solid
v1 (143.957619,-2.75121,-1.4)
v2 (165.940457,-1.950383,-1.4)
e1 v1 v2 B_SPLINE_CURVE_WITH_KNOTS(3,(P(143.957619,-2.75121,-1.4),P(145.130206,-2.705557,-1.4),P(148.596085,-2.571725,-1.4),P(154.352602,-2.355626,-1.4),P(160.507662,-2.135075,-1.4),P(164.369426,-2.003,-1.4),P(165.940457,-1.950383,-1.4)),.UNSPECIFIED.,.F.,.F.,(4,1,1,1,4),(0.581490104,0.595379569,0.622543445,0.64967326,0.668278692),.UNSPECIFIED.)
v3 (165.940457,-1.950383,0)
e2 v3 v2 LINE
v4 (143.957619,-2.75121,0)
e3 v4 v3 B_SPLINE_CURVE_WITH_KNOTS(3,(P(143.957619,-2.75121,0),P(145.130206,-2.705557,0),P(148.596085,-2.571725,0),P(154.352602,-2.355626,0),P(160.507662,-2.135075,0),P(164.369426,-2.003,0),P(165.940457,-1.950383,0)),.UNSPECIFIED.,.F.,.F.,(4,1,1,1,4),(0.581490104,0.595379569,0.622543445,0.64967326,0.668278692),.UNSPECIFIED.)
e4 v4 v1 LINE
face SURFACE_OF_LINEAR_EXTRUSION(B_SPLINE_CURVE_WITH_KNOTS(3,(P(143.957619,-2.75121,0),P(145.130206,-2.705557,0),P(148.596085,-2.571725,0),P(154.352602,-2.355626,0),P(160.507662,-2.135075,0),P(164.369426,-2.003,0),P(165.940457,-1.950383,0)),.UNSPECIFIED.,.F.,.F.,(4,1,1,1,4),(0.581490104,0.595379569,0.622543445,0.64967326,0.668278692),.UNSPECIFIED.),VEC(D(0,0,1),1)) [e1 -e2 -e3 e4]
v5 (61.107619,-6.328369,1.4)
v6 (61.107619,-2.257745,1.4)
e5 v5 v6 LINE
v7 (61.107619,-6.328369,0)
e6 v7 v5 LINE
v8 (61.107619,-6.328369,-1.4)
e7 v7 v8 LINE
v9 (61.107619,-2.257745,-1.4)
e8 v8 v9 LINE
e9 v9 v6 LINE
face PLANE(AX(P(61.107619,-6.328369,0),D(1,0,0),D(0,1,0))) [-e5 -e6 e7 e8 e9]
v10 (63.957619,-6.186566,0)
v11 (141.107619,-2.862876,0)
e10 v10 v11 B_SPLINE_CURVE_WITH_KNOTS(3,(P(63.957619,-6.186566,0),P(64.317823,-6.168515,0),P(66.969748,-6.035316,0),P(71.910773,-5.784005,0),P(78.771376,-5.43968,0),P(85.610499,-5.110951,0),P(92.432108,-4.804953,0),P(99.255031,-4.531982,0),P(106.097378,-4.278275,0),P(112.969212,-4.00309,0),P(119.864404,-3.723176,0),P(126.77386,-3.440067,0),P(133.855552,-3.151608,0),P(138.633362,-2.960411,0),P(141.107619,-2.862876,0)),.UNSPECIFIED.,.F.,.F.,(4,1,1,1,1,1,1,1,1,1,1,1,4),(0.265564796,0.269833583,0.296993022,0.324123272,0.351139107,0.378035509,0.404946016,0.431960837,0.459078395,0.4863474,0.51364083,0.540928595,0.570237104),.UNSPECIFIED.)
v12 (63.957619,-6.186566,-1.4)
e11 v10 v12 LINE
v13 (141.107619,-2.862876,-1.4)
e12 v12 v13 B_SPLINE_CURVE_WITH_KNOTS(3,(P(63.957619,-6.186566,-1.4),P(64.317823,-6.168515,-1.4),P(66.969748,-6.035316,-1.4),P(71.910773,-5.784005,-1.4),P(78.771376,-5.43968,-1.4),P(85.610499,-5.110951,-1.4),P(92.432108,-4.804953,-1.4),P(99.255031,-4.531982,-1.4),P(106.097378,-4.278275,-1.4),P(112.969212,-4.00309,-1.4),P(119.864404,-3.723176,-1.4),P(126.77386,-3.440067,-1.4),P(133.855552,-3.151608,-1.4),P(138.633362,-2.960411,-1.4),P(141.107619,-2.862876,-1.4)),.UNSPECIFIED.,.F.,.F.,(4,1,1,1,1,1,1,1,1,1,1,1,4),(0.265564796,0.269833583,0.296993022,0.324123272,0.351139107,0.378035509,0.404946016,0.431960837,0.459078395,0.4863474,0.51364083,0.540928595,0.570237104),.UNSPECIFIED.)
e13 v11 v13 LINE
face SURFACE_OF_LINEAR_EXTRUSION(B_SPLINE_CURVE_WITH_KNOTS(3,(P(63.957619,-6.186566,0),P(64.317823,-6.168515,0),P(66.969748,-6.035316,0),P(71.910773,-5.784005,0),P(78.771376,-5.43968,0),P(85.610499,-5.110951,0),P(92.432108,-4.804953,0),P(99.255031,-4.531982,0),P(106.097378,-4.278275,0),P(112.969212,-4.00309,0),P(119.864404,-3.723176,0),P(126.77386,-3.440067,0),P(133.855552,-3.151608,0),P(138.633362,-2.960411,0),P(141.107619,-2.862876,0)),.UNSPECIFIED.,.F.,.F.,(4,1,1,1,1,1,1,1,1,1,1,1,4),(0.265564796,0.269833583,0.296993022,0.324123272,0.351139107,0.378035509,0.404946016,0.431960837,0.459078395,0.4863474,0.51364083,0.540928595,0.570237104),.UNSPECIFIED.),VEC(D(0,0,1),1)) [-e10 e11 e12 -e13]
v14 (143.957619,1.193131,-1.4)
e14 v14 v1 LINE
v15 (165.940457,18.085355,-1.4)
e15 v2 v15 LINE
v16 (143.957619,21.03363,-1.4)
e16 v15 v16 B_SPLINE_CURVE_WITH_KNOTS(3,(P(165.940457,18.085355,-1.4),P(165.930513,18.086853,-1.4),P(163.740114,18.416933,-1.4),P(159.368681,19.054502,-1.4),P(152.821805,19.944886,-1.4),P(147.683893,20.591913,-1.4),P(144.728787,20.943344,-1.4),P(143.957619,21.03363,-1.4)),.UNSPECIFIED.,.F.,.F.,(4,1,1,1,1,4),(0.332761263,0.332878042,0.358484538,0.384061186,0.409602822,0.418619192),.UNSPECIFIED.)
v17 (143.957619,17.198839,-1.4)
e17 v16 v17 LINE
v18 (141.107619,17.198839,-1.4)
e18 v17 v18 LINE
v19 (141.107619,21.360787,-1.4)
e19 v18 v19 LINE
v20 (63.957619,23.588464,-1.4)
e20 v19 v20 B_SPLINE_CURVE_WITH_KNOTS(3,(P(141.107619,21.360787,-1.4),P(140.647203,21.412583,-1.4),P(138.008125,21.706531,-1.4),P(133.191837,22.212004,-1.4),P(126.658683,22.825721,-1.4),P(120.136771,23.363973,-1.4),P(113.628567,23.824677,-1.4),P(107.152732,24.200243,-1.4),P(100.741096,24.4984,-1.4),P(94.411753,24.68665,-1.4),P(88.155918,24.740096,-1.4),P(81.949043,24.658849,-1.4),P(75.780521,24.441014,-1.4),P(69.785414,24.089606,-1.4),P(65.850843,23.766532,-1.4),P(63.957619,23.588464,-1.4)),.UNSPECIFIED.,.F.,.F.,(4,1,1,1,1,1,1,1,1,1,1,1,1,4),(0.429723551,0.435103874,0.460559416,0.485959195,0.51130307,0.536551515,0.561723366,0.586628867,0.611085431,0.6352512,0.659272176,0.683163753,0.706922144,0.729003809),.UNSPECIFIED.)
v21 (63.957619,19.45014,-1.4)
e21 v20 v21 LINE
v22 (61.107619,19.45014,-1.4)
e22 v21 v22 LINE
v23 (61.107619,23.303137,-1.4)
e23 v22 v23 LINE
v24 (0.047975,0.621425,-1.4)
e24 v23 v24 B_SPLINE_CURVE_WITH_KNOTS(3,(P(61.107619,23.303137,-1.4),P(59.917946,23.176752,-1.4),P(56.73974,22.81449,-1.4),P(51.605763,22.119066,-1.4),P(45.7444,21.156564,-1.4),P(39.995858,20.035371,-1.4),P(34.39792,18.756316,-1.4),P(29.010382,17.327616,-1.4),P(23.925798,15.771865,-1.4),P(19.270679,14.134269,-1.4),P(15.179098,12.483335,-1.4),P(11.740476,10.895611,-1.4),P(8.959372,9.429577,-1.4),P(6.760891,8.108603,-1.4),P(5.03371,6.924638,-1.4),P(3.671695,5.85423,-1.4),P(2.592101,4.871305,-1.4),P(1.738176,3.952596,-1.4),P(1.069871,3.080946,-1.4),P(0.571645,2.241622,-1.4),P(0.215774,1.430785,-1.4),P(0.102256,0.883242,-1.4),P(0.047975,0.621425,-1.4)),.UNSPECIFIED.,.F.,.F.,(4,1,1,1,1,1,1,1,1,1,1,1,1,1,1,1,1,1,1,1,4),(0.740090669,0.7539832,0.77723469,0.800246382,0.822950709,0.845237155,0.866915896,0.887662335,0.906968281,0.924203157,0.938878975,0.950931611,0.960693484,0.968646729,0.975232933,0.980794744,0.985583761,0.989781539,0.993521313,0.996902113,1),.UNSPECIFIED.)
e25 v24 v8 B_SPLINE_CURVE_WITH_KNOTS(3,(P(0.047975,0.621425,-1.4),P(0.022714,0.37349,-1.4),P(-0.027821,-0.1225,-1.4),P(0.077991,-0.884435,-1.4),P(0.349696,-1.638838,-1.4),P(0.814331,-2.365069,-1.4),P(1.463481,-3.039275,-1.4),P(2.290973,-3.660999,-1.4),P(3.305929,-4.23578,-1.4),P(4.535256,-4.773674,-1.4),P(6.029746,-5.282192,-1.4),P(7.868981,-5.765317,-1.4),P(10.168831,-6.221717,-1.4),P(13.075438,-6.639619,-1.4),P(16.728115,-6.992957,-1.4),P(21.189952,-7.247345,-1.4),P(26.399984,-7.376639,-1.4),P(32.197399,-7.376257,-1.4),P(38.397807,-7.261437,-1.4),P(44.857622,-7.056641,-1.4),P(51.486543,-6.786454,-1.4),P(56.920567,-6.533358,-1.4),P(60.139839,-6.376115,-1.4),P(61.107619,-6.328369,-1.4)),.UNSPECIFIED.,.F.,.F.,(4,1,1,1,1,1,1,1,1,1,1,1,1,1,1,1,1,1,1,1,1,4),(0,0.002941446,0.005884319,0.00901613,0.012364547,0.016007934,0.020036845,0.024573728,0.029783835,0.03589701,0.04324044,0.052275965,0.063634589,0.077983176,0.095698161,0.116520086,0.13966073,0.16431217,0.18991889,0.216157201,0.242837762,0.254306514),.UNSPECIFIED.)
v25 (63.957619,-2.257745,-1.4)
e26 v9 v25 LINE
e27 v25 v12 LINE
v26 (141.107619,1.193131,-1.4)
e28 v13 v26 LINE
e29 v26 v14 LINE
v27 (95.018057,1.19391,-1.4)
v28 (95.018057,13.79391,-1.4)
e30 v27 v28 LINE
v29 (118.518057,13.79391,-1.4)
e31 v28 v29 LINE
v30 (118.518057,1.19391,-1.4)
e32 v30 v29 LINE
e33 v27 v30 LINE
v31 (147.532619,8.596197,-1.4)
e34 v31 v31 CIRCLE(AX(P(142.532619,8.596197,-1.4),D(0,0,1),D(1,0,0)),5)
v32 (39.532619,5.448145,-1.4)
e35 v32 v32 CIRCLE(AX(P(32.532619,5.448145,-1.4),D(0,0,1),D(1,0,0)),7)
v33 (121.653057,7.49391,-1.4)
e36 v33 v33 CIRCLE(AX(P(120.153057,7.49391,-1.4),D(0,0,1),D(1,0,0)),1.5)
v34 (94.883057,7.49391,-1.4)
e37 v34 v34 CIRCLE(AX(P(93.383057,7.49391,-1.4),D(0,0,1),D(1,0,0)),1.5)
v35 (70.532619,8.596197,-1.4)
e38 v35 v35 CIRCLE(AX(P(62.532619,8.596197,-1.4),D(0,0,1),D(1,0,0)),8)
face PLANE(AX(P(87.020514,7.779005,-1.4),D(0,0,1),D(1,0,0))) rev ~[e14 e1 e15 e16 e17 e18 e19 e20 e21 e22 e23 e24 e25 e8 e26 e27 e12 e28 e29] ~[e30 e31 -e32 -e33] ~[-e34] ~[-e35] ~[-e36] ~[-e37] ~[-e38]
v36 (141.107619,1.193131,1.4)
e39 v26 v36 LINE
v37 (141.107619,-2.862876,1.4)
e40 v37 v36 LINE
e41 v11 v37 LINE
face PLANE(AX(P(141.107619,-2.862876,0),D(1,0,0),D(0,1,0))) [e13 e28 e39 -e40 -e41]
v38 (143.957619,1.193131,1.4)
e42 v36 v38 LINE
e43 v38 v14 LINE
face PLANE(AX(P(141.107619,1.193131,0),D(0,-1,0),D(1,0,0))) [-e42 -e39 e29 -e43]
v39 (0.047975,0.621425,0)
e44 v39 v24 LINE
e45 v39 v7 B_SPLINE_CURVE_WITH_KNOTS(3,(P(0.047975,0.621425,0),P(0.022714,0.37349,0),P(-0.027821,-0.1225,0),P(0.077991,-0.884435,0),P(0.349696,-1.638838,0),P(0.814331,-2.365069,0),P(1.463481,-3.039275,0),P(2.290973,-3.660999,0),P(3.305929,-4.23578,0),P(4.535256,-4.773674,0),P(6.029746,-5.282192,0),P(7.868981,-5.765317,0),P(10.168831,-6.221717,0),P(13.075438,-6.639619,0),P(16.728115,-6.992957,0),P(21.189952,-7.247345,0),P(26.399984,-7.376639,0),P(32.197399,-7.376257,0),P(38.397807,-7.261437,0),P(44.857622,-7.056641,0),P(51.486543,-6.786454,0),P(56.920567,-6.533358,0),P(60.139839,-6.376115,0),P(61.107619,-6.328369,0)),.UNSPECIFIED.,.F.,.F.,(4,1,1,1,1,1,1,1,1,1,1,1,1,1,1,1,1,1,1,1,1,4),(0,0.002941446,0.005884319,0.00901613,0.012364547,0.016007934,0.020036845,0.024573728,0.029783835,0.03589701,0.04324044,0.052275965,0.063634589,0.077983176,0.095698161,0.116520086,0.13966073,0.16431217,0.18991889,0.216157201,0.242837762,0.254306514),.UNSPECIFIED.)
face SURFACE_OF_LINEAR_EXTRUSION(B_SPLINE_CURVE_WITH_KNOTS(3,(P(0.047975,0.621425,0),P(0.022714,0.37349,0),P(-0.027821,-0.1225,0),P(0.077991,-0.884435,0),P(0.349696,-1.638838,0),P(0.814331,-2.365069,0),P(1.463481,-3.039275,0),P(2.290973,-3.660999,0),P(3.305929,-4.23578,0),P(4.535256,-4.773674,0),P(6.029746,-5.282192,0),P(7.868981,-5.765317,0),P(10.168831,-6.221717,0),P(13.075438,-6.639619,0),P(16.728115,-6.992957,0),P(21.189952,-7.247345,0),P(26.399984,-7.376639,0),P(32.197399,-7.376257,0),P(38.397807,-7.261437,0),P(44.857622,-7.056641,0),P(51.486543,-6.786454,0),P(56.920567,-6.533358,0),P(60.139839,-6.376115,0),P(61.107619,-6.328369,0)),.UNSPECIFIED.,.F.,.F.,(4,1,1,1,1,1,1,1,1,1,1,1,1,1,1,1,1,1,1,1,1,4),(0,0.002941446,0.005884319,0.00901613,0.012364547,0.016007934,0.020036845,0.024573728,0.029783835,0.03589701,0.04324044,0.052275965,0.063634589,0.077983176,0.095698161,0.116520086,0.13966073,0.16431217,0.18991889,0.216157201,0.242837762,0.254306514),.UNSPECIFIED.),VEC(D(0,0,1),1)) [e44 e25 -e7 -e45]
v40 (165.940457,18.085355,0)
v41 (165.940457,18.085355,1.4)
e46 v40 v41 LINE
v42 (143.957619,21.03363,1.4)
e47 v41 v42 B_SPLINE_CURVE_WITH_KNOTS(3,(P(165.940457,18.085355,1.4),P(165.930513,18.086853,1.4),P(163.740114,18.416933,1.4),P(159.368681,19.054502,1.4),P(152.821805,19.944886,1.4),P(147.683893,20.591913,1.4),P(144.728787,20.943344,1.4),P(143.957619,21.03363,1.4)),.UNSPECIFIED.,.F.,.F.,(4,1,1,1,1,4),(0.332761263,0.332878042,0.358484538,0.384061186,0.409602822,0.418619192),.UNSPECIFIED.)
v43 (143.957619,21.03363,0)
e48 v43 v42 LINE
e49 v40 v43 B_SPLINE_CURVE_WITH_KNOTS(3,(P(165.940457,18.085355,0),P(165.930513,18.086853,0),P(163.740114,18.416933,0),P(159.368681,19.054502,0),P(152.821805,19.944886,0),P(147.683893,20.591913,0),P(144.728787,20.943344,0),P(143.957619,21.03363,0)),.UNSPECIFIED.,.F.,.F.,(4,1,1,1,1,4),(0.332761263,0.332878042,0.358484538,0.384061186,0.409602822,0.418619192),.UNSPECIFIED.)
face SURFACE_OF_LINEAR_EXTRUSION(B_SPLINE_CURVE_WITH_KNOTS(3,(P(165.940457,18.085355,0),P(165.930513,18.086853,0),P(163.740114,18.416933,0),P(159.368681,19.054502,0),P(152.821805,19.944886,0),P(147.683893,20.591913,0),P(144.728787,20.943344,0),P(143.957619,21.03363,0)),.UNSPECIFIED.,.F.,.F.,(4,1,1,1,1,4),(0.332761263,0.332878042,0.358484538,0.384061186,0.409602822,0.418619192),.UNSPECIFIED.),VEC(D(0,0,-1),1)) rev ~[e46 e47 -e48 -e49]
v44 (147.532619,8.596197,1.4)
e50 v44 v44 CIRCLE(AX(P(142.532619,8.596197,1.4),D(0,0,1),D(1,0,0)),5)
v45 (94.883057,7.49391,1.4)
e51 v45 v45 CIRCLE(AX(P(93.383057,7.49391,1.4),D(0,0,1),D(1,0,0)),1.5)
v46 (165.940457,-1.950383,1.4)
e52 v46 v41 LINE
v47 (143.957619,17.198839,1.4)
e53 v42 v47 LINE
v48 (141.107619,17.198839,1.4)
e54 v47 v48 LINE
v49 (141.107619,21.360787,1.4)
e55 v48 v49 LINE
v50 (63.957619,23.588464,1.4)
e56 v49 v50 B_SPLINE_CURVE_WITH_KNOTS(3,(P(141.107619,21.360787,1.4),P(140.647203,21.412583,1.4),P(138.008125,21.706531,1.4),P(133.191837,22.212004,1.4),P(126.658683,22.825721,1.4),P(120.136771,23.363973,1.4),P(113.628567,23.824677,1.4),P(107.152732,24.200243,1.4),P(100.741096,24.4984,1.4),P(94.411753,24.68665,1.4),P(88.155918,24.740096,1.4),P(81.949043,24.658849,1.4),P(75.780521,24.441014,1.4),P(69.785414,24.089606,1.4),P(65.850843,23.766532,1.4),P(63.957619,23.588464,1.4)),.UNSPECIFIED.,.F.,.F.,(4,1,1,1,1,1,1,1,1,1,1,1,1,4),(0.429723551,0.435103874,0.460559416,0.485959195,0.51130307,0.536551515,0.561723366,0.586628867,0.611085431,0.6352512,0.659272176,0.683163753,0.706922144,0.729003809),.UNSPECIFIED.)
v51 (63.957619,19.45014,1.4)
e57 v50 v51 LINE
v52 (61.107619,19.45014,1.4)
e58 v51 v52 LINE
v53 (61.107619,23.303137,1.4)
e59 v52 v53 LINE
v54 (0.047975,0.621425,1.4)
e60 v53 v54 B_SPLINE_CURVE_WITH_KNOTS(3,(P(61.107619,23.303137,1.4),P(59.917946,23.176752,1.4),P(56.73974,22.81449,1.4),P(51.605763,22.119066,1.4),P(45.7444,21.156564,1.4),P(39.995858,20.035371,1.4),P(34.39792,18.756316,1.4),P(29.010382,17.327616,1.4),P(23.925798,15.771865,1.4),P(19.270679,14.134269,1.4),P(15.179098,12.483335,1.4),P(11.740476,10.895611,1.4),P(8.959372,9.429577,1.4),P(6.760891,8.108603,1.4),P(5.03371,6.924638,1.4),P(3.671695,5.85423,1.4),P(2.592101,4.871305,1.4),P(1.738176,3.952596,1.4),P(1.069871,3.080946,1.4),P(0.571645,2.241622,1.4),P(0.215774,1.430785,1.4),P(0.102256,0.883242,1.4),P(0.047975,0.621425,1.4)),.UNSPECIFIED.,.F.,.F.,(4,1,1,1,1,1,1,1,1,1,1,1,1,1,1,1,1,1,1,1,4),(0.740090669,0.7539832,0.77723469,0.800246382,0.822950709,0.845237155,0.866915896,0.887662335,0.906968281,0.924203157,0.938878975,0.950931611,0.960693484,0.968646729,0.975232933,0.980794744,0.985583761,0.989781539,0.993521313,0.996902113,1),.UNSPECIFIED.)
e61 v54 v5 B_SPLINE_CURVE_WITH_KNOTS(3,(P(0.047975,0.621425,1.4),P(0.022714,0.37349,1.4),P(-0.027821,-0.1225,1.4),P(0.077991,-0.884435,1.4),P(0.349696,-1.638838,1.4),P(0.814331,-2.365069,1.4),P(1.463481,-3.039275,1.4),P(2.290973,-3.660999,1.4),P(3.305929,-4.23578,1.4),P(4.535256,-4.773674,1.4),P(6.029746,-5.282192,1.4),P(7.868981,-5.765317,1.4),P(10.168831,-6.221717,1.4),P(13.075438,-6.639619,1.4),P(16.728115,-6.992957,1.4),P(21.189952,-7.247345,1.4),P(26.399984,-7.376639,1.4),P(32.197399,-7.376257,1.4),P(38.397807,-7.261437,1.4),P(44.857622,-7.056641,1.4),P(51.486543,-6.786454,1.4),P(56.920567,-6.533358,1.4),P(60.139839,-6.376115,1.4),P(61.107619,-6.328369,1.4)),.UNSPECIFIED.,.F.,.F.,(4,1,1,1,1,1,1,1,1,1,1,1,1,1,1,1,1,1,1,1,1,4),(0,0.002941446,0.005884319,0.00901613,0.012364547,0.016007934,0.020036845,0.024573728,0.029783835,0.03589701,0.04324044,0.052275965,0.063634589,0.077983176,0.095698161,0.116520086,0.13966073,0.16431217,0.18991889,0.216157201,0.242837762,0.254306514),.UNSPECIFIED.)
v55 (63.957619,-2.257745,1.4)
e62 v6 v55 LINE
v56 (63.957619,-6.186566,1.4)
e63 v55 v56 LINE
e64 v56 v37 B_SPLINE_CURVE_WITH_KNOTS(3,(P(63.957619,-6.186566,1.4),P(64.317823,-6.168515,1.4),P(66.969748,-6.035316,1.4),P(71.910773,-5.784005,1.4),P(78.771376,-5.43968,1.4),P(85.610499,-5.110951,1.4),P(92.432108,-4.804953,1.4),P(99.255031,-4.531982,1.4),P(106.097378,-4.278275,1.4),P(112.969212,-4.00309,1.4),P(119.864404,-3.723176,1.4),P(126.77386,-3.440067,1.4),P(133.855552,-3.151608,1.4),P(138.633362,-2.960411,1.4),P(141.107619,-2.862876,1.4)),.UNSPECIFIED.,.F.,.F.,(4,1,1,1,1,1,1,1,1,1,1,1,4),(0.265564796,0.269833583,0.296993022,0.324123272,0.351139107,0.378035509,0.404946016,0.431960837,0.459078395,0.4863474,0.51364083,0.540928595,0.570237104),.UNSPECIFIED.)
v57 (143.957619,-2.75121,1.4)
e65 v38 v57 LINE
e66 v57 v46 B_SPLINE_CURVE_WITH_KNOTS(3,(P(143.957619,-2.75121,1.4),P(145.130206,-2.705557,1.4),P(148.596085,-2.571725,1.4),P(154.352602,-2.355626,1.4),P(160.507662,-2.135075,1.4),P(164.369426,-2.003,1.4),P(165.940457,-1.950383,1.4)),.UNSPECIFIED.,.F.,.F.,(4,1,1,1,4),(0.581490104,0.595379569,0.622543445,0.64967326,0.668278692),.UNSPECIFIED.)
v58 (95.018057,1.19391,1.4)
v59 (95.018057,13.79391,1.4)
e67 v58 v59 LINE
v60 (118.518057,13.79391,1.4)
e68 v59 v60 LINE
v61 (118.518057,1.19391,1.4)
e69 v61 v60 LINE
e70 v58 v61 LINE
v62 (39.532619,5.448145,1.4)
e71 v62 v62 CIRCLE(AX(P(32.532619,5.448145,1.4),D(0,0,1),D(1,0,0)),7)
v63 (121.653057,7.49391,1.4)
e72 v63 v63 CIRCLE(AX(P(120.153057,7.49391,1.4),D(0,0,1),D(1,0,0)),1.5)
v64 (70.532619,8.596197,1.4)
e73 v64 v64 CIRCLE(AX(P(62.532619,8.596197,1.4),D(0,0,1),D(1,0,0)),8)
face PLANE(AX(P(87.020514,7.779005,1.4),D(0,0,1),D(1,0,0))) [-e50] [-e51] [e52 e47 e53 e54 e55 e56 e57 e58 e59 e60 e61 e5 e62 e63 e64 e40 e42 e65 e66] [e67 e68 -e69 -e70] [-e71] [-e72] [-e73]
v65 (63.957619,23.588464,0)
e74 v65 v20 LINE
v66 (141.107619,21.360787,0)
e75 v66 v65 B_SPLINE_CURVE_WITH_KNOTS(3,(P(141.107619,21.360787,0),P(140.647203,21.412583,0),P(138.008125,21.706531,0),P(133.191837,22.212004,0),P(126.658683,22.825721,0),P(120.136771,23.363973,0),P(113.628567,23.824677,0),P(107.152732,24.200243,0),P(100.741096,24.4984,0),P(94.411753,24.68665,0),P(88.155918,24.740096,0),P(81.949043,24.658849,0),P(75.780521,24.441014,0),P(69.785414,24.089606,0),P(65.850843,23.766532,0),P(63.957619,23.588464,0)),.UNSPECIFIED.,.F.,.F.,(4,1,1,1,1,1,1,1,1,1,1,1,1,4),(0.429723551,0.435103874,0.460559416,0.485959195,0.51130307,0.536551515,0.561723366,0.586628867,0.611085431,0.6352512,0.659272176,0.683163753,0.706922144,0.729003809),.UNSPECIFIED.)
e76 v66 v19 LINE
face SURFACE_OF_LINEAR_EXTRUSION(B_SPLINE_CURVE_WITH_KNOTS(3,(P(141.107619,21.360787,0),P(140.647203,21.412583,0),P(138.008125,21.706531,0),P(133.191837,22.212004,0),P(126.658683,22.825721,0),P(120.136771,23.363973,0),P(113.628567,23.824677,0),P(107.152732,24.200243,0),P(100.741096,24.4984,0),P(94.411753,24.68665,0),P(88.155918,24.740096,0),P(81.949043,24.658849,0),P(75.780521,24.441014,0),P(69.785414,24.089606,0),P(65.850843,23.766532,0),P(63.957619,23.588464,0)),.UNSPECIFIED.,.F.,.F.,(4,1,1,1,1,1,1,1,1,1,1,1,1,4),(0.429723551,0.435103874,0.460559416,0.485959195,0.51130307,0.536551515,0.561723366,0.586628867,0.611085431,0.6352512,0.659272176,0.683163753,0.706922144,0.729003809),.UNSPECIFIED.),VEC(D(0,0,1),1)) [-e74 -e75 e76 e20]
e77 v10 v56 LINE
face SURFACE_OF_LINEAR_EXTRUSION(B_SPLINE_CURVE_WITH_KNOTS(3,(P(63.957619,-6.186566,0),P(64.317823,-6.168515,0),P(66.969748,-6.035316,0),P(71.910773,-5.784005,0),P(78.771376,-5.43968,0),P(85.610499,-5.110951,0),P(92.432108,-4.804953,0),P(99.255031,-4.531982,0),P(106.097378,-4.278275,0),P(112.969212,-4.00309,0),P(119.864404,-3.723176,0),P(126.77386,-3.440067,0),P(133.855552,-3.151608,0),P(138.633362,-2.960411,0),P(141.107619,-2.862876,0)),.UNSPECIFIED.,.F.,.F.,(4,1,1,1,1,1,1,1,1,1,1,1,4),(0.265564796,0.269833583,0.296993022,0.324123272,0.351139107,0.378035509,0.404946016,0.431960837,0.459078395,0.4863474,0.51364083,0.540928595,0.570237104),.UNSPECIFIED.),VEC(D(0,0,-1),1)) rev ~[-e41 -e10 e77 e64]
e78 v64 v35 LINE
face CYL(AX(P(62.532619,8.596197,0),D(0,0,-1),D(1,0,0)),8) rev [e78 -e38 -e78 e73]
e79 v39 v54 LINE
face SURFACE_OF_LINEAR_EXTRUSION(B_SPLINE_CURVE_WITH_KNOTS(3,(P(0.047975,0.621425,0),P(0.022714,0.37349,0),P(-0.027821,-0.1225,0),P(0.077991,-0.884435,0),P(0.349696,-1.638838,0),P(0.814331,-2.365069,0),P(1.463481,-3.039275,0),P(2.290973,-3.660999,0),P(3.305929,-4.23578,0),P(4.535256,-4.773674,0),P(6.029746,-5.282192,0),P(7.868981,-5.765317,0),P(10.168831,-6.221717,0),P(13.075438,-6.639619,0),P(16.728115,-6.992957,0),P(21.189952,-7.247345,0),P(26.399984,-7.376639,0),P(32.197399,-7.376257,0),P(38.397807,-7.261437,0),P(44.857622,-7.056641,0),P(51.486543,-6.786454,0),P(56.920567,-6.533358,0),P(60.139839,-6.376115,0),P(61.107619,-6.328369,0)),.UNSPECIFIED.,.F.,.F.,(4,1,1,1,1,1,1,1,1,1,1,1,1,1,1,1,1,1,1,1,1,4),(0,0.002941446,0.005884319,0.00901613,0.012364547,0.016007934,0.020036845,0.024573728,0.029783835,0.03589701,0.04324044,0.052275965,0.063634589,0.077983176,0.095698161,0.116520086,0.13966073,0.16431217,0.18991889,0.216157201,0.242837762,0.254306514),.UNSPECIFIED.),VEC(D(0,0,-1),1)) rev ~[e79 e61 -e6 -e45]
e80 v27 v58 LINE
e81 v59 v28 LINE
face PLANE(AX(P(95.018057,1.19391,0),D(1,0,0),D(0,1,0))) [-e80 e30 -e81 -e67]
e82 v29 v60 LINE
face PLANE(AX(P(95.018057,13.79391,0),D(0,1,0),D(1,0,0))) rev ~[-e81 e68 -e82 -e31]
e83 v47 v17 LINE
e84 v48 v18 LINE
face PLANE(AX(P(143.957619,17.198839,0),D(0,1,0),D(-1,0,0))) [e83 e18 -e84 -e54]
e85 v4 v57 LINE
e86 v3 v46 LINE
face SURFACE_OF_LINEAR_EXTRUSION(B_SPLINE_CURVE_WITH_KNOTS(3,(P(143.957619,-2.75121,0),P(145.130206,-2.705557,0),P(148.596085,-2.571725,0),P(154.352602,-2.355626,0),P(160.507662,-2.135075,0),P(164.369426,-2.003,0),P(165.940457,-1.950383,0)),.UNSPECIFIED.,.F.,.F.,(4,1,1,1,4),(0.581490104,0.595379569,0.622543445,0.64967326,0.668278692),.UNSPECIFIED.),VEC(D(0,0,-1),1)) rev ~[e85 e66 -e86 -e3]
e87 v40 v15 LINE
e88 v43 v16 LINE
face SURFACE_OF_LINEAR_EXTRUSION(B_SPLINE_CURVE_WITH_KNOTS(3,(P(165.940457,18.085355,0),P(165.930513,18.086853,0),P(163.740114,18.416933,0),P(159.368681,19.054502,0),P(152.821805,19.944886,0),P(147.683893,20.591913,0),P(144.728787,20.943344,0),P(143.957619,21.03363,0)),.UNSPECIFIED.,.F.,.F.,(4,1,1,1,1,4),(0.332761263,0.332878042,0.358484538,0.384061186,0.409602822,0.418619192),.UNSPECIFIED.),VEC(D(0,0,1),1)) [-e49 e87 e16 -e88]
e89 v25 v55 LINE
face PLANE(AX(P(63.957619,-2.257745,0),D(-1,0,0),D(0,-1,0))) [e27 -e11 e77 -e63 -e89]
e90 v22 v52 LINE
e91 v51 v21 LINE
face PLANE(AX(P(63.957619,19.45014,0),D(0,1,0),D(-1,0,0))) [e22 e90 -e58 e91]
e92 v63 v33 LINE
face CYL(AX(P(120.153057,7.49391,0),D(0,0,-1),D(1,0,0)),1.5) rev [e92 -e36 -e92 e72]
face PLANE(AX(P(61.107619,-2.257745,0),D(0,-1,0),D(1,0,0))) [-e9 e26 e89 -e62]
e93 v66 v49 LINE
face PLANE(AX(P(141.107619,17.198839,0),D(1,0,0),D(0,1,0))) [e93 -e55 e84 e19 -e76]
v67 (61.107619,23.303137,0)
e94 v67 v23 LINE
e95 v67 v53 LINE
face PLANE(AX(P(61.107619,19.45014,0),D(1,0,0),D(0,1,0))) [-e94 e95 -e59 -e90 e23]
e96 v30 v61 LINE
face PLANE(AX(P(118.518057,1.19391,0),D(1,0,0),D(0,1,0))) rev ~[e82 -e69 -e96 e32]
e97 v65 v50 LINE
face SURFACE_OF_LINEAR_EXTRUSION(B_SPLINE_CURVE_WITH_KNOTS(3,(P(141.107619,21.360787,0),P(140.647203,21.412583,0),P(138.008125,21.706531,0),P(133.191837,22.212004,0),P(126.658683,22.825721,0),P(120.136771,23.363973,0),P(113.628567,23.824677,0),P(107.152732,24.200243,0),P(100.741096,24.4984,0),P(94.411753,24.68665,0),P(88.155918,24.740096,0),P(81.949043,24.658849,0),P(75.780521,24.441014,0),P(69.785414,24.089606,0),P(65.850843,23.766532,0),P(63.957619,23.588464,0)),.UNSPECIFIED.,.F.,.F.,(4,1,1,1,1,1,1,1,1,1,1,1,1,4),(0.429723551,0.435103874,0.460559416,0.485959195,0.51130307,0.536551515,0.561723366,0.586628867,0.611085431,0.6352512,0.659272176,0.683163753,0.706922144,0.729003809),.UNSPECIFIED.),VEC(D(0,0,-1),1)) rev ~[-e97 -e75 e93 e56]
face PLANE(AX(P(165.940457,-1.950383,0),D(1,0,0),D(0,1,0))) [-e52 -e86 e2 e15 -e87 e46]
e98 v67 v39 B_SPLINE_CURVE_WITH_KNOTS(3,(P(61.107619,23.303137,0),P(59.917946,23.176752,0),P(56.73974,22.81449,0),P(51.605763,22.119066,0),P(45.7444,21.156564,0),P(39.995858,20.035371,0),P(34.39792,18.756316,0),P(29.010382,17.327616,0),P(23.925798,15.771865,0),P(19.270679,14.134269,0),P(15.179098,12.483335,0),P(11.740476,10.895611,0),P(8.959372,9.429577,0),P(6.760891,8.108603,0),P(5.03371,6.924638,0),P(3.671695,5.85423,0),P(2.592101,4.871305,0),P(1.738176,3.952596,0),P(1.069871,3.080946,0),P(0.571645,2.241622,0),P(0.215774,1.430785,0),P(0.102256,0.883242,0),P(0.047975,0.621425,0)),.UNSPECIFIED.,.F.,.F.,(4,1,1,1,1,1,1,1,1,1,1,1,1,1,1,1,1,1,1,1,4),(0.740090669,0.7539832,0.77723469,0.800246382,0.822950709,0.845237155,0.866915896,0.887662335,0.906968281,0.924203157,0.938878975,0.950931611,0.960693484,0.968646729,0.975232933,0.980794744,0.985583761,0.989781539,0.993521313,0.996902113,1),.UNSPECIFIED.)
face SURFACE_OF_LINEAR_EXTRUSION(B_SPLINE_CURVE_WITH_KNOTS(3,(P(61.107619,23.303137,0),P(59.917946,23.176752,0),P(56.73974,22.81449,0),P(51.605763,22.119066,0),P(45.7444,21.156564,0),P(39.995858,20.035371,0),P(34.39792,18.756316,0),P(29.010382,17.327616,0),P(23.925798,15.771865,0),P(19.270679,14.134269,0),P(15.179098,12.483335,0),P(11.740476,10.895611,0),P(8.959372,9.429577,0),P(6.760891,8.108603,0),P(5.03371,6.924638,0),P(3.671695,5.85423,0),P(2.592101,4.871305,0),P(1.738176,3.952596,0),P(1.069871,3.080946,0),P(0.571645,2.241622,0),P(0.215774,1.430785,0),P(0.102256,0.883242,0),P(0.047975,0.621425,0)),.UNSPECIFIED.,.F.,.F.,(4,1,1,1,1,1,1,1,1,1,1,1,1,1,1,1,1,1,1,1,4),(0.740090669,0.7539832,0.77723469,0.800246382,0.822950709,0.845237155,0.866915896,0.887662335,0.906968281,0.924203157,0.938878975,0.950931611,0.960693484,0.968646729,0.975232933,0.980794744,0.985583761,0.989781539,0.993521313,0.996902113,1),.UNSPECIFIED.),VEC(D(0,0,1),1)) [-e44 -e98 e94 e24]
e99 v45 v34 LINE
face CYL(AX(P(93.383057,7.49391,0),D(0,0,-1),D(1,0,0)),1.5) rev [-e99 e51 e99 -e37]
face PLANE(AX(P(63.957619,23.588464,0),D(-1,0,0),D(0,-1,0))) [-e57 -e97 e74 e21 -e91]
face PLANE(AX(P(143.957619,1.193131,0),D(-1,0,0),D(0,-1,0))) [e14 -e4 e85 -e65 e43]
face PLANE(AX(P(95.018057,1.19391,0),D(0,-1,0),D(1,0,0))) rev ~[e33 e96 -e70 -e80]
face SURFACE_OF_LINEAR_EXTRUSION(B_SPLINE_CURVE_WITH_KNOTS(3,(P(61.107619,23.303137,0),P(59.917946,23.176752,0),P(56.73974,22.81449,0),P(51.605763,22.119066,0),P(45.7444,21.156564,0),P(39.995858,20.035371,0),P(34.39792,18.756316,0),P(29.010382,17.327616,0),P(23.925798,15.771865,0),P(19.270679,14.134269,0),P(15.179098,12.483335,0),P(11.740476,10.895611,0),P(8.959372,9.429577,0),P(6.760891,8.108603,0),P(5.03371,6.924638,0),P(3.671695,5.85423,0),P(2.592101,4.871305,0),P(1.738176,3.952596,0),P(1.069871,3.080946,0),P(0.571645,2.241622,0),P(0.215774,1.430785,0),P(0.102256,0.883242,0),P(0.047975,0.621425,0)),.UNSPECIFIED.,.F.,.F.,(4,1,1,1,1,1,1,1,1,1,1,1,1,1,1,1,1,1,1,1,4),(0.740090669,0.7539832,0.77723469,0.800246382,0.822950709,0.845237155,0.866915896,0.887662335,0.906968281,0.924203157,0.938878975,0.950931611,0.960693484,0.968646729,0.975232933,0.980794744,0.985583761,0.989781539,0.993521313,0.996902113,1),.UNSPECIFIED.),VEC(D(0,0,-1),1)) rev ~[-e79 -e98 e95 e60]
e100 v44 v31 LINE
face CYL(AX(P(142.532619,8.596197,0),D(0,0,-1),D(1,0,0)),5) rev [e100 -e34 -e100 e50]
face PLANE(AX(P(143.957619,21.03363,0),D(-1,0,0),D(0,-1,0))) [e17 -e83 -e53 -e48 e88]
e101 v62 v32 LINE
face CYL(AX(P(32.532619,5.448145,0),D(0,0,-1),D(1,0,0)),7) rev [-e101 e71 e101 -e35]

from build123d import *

# Parameters (mm, degrees)
SKETCH_1_R      = 7
SKETCH_1_R_2    = 8
SKETCH_1_R_3    = 1.5
SKETCH_1_W      = 23.5
SKETCH_1_H      = 12.6
SKETCH_1_R_4    = 5
EXTRUDE_1_DEPTH = 1.4


with BuildPart() as part:
    # Эскиз1 → Бобышка-Вытянуть1 (new, symmetric)
    with BuildSketch(Plane.XY):
        with BuildLine():
            Line((63.957619318, 19.450139662), (61.107619318, 19.450139662))
            Line((61.107619318, 19.450139662), (61.107619318, 23.303137173))
            add(Edge.make_bspline(
                [(61.107619318, 23.303137173), (59.917945614, 23.176751945), (56.739740439, 22.81448979), (51.605762688, 22.119065522), (45.744400311, 21.156564432), (39.995857594, 20.03537139), (34.397919842, 18.756316235), (29.010382103, 17.327615608), (23.925798408, 15.771864922), (19.27067884, 14.134269435), (15.179098391, 12.483335438), (11.74047579, 10.895610996), (8.959371869, 9.429577366), (6.76089118, 8.1086032), (5.033709748, 6.924638056), (3.671694933, 5.854229665), (2.592101123, 4.871305369), (1.738175668, 3.952595744), (1.06987083, 3.080946374), (0.57164541, 2.241622103), (0.215773899, 1.430785398), (0.102255581, 0.883241695), (0.047975, 0.621425001)],
                knots=[0.740090669, 0.740090669, 0.740090669, 0.740090669, 0.7539832, 0.77723469, 0.800246382, 0.822950709, 0.845237155, 0.866915896, 0.887662335, 0.906968281, 0.924203157, 0.938878975, 0.950931611, 0.960693484, 0.968646729, 0.975232933, 0.980794744, 0.985583761, 0.989781539, 0.993521313, 0.996902113, 1, 1, 1, 1], degree=3))
            add(Edge.make_bspline(
                [(0.047975, 0.621425001), (0.02271382, 0.373490086), (-0.027820789, -0.122499974), (0.077991212, -0.884434589), (0.34969565, -1.63883807), (0.814331135, -2.365068923), (1.46348078, -3.039275244), (2.290973016, -3.660999469), (3.30592875, -4.23577962), (4.535255619, -4.773674143), (6.029745688, -5.282192164), (7.868981215, -5.765316676), (10.168831391, -6.221716592), (13.075438188, -6.63961873), (16.728115362, -6.992956737), (21.189952096, -7.247345144), (26.399984415, -7.376638848), (32.197398564, -7.376256913), (38.397806759, -7.261436579), (44.857621768, -7.056641358), (51.486543096, -6.786453532), (56.920566709, -6.533358441), (60.139839208, -6.376114839), (61.107619318, -6.32836923)],
                knots=[0, 0, 0, 0, 0.002941446, 0.005884319, 0.00901613, 0.012364547, 0.016007934, 0.020036845, 0.024573728, 0.029783835, 0.03589701, 0.04324044, 0.052275965, 0.063634589, 0.077983176, 0.095698161, 0.116520086, 0.13966073, 0.16431217, 0.18991889, 0.216157201, 0.242837762, 0.254306514, 0.254306514, 0.254306514, 0.254306514], degree=3))
            Line((61.107619318, -6.32836923), (61.107619318, -2.257745247))
            Line((61.107619318, -2.257745247), (63.957619318, -2.257745247))
            Line((63.957619318, -2.257745247), (63.957619318, -6.186566126))
            add(Edge.make_bspline(
                [(63.957619318, -6.186566126), (64.317823095, -6.168514758), (66.969747676, -6.035316313), (71.910772709, -5.784005174), (78.771375576, -5.439680449), (85.610498609, -5.110951246), (92.432107589, -4.804953317), (99.25503119, -4.531981644), (106.097378404, -4.278274658), (112.96921168, -4.00308991), (119.864404254, -3.723176166), (126.773860473, -3.440067276), (133.855552455, -3.151608468), (138.633361552, -2.960411351), (141.107619318, -2.86287629)],
                knots=[0.265564796, 0.265564796, 0.265564796, 0.265564796, 0.269833583, 0.296993022, 0.324123272, 0.351139107, 0.378035509, 0.404946016, 0.431960837, 0.459078395, 0.4863474, 0.51364083, 0.540928595, 0.570237104, 0.570237104, 0.570237104, 0.570237104], degree=3))
            Line((141.107619318, -2.86287629), (141.107619318, 1.193130543))
            Line((141.107619318, 1.193130543), (143.957619318, 1.193130543))
            Line((143.957619318, 1.193130543), (143.957619318, -2.751209627))
            add(Edge.make_bspline(
                [(143.957619318, -2.751209627), (145.13020609, -2.705557458), (148.596084852, -2.571725453), (154.352602411, -2.355626415), (160.507662095, -2.135075484), (164.369425992, -2.00299999), (165.940456932, -1.950382964)],
                knots=[0.581490104, 0.581490104, 0.581490104, 0.581490104, 0.595379569, 0.622543445, 0.64967326, 0.668278692, 0.668278692, 0.668278692, 0.668278692], degree=3))
            Line((165.940456932, -1.950382964), (165.940456932, 7.49391084))
            Line((165.940456932, 7.49391084), (165.940456932, 18.08535451))
            add(Edge.make_bspline(
                [(165.940456932, 18.08535451), (165.930512987, 18.08685322), (163.740114226, 18.416932974), (159.368680729, 19.054501815), (152.821805128, 19.944885603), (147.683892721, 20.591912914), (144.728786809, 20.943344409), (143.957619318, 21.033629847)],
                knots=[0.332761263, 0.332761263, 0.332761263, 0.332761263, 0.332878042, 0.358484538, 0.384061186, 0.409602822, 0.418619192, 0.418619192, 0.418619192, 0.418619192], degree=3))
            Line((143.957619318, 21.033629847), (143.957619318, 17.19883932))
            Line((143.957619318, 17.19883932), (141.107619318, 17.19883932))
            Line((141.107619318, 17.19883932), (141.107619318, 21.360787161))
            add(Edge.make_bspline(
                [(141.107619318, 21.360787161), (140.647203073, 21.412583326), (138.008124909, 21.706530989), (133.19183673, 22.212004255), (126.658683026, 22.825721434), (120.136770918, 23.363973271), (113.62856714, 23.824677329), (107.152732037, 24.200242598), (100.741095693, 24.498399513), (94.411752715, 24.686649771), (88.155917993, 24.740095652), (81.949043055, 24.658849145), (75.780520591, 24.441013809), (69.785413798, 24.089605746), (65.850842722, 23.766532071), (63.957619318, 23.588464287)],
                knots=[0.429723551, 0.429723551, 0.429723551, 0.429723551, 0.435103874, 0.460559416, 0.485959195, 0.51130307, 0.536551515, 0.561723366, 0.586628867, 0.611085431, 0.6352512, 0.659272176, 0.683163753, 0.706922144, 0.729003809, 0.729003809, 0.729003809, 0.729003809], degree=3))
            Line((63.957619318, 23.588464287), (63.957619318, 19.450139662))
        make_face()
        with Locations((32.532619318, 5.448144701)):
            Circle(SKETCH_1_R, mode=Mode.SUBTRACT)
        with Locations((62.532619318, 8.596197208)):
            Circle(SKETCH_1_R_2, mode=Mode.SUBTRACT)
        with Locations((93.383057475, 7.493910357)):
            Circle(SKETCH_1_R_3, mode=Mode.SUBTRACT)
        with Locations((106.768057475, 7.493910357)):
            Rectangle(SKETCH_1_W, SKETCH_1_H, mode=Mode.SUBTRACT)
        with Locations((120.153057475, 7.493910357)):
            Circle(SKETCH_1_R_3, mode=Mode.SUBTRACT)
        with Locations((142.532619318, 8.596197208)):
            Circle(SKETCH_1_R_4, mode=Mode.SUBTRACT)
    extrude(amount=EXTRUDE_1_DEPTH, both=True)


solid = part.part
